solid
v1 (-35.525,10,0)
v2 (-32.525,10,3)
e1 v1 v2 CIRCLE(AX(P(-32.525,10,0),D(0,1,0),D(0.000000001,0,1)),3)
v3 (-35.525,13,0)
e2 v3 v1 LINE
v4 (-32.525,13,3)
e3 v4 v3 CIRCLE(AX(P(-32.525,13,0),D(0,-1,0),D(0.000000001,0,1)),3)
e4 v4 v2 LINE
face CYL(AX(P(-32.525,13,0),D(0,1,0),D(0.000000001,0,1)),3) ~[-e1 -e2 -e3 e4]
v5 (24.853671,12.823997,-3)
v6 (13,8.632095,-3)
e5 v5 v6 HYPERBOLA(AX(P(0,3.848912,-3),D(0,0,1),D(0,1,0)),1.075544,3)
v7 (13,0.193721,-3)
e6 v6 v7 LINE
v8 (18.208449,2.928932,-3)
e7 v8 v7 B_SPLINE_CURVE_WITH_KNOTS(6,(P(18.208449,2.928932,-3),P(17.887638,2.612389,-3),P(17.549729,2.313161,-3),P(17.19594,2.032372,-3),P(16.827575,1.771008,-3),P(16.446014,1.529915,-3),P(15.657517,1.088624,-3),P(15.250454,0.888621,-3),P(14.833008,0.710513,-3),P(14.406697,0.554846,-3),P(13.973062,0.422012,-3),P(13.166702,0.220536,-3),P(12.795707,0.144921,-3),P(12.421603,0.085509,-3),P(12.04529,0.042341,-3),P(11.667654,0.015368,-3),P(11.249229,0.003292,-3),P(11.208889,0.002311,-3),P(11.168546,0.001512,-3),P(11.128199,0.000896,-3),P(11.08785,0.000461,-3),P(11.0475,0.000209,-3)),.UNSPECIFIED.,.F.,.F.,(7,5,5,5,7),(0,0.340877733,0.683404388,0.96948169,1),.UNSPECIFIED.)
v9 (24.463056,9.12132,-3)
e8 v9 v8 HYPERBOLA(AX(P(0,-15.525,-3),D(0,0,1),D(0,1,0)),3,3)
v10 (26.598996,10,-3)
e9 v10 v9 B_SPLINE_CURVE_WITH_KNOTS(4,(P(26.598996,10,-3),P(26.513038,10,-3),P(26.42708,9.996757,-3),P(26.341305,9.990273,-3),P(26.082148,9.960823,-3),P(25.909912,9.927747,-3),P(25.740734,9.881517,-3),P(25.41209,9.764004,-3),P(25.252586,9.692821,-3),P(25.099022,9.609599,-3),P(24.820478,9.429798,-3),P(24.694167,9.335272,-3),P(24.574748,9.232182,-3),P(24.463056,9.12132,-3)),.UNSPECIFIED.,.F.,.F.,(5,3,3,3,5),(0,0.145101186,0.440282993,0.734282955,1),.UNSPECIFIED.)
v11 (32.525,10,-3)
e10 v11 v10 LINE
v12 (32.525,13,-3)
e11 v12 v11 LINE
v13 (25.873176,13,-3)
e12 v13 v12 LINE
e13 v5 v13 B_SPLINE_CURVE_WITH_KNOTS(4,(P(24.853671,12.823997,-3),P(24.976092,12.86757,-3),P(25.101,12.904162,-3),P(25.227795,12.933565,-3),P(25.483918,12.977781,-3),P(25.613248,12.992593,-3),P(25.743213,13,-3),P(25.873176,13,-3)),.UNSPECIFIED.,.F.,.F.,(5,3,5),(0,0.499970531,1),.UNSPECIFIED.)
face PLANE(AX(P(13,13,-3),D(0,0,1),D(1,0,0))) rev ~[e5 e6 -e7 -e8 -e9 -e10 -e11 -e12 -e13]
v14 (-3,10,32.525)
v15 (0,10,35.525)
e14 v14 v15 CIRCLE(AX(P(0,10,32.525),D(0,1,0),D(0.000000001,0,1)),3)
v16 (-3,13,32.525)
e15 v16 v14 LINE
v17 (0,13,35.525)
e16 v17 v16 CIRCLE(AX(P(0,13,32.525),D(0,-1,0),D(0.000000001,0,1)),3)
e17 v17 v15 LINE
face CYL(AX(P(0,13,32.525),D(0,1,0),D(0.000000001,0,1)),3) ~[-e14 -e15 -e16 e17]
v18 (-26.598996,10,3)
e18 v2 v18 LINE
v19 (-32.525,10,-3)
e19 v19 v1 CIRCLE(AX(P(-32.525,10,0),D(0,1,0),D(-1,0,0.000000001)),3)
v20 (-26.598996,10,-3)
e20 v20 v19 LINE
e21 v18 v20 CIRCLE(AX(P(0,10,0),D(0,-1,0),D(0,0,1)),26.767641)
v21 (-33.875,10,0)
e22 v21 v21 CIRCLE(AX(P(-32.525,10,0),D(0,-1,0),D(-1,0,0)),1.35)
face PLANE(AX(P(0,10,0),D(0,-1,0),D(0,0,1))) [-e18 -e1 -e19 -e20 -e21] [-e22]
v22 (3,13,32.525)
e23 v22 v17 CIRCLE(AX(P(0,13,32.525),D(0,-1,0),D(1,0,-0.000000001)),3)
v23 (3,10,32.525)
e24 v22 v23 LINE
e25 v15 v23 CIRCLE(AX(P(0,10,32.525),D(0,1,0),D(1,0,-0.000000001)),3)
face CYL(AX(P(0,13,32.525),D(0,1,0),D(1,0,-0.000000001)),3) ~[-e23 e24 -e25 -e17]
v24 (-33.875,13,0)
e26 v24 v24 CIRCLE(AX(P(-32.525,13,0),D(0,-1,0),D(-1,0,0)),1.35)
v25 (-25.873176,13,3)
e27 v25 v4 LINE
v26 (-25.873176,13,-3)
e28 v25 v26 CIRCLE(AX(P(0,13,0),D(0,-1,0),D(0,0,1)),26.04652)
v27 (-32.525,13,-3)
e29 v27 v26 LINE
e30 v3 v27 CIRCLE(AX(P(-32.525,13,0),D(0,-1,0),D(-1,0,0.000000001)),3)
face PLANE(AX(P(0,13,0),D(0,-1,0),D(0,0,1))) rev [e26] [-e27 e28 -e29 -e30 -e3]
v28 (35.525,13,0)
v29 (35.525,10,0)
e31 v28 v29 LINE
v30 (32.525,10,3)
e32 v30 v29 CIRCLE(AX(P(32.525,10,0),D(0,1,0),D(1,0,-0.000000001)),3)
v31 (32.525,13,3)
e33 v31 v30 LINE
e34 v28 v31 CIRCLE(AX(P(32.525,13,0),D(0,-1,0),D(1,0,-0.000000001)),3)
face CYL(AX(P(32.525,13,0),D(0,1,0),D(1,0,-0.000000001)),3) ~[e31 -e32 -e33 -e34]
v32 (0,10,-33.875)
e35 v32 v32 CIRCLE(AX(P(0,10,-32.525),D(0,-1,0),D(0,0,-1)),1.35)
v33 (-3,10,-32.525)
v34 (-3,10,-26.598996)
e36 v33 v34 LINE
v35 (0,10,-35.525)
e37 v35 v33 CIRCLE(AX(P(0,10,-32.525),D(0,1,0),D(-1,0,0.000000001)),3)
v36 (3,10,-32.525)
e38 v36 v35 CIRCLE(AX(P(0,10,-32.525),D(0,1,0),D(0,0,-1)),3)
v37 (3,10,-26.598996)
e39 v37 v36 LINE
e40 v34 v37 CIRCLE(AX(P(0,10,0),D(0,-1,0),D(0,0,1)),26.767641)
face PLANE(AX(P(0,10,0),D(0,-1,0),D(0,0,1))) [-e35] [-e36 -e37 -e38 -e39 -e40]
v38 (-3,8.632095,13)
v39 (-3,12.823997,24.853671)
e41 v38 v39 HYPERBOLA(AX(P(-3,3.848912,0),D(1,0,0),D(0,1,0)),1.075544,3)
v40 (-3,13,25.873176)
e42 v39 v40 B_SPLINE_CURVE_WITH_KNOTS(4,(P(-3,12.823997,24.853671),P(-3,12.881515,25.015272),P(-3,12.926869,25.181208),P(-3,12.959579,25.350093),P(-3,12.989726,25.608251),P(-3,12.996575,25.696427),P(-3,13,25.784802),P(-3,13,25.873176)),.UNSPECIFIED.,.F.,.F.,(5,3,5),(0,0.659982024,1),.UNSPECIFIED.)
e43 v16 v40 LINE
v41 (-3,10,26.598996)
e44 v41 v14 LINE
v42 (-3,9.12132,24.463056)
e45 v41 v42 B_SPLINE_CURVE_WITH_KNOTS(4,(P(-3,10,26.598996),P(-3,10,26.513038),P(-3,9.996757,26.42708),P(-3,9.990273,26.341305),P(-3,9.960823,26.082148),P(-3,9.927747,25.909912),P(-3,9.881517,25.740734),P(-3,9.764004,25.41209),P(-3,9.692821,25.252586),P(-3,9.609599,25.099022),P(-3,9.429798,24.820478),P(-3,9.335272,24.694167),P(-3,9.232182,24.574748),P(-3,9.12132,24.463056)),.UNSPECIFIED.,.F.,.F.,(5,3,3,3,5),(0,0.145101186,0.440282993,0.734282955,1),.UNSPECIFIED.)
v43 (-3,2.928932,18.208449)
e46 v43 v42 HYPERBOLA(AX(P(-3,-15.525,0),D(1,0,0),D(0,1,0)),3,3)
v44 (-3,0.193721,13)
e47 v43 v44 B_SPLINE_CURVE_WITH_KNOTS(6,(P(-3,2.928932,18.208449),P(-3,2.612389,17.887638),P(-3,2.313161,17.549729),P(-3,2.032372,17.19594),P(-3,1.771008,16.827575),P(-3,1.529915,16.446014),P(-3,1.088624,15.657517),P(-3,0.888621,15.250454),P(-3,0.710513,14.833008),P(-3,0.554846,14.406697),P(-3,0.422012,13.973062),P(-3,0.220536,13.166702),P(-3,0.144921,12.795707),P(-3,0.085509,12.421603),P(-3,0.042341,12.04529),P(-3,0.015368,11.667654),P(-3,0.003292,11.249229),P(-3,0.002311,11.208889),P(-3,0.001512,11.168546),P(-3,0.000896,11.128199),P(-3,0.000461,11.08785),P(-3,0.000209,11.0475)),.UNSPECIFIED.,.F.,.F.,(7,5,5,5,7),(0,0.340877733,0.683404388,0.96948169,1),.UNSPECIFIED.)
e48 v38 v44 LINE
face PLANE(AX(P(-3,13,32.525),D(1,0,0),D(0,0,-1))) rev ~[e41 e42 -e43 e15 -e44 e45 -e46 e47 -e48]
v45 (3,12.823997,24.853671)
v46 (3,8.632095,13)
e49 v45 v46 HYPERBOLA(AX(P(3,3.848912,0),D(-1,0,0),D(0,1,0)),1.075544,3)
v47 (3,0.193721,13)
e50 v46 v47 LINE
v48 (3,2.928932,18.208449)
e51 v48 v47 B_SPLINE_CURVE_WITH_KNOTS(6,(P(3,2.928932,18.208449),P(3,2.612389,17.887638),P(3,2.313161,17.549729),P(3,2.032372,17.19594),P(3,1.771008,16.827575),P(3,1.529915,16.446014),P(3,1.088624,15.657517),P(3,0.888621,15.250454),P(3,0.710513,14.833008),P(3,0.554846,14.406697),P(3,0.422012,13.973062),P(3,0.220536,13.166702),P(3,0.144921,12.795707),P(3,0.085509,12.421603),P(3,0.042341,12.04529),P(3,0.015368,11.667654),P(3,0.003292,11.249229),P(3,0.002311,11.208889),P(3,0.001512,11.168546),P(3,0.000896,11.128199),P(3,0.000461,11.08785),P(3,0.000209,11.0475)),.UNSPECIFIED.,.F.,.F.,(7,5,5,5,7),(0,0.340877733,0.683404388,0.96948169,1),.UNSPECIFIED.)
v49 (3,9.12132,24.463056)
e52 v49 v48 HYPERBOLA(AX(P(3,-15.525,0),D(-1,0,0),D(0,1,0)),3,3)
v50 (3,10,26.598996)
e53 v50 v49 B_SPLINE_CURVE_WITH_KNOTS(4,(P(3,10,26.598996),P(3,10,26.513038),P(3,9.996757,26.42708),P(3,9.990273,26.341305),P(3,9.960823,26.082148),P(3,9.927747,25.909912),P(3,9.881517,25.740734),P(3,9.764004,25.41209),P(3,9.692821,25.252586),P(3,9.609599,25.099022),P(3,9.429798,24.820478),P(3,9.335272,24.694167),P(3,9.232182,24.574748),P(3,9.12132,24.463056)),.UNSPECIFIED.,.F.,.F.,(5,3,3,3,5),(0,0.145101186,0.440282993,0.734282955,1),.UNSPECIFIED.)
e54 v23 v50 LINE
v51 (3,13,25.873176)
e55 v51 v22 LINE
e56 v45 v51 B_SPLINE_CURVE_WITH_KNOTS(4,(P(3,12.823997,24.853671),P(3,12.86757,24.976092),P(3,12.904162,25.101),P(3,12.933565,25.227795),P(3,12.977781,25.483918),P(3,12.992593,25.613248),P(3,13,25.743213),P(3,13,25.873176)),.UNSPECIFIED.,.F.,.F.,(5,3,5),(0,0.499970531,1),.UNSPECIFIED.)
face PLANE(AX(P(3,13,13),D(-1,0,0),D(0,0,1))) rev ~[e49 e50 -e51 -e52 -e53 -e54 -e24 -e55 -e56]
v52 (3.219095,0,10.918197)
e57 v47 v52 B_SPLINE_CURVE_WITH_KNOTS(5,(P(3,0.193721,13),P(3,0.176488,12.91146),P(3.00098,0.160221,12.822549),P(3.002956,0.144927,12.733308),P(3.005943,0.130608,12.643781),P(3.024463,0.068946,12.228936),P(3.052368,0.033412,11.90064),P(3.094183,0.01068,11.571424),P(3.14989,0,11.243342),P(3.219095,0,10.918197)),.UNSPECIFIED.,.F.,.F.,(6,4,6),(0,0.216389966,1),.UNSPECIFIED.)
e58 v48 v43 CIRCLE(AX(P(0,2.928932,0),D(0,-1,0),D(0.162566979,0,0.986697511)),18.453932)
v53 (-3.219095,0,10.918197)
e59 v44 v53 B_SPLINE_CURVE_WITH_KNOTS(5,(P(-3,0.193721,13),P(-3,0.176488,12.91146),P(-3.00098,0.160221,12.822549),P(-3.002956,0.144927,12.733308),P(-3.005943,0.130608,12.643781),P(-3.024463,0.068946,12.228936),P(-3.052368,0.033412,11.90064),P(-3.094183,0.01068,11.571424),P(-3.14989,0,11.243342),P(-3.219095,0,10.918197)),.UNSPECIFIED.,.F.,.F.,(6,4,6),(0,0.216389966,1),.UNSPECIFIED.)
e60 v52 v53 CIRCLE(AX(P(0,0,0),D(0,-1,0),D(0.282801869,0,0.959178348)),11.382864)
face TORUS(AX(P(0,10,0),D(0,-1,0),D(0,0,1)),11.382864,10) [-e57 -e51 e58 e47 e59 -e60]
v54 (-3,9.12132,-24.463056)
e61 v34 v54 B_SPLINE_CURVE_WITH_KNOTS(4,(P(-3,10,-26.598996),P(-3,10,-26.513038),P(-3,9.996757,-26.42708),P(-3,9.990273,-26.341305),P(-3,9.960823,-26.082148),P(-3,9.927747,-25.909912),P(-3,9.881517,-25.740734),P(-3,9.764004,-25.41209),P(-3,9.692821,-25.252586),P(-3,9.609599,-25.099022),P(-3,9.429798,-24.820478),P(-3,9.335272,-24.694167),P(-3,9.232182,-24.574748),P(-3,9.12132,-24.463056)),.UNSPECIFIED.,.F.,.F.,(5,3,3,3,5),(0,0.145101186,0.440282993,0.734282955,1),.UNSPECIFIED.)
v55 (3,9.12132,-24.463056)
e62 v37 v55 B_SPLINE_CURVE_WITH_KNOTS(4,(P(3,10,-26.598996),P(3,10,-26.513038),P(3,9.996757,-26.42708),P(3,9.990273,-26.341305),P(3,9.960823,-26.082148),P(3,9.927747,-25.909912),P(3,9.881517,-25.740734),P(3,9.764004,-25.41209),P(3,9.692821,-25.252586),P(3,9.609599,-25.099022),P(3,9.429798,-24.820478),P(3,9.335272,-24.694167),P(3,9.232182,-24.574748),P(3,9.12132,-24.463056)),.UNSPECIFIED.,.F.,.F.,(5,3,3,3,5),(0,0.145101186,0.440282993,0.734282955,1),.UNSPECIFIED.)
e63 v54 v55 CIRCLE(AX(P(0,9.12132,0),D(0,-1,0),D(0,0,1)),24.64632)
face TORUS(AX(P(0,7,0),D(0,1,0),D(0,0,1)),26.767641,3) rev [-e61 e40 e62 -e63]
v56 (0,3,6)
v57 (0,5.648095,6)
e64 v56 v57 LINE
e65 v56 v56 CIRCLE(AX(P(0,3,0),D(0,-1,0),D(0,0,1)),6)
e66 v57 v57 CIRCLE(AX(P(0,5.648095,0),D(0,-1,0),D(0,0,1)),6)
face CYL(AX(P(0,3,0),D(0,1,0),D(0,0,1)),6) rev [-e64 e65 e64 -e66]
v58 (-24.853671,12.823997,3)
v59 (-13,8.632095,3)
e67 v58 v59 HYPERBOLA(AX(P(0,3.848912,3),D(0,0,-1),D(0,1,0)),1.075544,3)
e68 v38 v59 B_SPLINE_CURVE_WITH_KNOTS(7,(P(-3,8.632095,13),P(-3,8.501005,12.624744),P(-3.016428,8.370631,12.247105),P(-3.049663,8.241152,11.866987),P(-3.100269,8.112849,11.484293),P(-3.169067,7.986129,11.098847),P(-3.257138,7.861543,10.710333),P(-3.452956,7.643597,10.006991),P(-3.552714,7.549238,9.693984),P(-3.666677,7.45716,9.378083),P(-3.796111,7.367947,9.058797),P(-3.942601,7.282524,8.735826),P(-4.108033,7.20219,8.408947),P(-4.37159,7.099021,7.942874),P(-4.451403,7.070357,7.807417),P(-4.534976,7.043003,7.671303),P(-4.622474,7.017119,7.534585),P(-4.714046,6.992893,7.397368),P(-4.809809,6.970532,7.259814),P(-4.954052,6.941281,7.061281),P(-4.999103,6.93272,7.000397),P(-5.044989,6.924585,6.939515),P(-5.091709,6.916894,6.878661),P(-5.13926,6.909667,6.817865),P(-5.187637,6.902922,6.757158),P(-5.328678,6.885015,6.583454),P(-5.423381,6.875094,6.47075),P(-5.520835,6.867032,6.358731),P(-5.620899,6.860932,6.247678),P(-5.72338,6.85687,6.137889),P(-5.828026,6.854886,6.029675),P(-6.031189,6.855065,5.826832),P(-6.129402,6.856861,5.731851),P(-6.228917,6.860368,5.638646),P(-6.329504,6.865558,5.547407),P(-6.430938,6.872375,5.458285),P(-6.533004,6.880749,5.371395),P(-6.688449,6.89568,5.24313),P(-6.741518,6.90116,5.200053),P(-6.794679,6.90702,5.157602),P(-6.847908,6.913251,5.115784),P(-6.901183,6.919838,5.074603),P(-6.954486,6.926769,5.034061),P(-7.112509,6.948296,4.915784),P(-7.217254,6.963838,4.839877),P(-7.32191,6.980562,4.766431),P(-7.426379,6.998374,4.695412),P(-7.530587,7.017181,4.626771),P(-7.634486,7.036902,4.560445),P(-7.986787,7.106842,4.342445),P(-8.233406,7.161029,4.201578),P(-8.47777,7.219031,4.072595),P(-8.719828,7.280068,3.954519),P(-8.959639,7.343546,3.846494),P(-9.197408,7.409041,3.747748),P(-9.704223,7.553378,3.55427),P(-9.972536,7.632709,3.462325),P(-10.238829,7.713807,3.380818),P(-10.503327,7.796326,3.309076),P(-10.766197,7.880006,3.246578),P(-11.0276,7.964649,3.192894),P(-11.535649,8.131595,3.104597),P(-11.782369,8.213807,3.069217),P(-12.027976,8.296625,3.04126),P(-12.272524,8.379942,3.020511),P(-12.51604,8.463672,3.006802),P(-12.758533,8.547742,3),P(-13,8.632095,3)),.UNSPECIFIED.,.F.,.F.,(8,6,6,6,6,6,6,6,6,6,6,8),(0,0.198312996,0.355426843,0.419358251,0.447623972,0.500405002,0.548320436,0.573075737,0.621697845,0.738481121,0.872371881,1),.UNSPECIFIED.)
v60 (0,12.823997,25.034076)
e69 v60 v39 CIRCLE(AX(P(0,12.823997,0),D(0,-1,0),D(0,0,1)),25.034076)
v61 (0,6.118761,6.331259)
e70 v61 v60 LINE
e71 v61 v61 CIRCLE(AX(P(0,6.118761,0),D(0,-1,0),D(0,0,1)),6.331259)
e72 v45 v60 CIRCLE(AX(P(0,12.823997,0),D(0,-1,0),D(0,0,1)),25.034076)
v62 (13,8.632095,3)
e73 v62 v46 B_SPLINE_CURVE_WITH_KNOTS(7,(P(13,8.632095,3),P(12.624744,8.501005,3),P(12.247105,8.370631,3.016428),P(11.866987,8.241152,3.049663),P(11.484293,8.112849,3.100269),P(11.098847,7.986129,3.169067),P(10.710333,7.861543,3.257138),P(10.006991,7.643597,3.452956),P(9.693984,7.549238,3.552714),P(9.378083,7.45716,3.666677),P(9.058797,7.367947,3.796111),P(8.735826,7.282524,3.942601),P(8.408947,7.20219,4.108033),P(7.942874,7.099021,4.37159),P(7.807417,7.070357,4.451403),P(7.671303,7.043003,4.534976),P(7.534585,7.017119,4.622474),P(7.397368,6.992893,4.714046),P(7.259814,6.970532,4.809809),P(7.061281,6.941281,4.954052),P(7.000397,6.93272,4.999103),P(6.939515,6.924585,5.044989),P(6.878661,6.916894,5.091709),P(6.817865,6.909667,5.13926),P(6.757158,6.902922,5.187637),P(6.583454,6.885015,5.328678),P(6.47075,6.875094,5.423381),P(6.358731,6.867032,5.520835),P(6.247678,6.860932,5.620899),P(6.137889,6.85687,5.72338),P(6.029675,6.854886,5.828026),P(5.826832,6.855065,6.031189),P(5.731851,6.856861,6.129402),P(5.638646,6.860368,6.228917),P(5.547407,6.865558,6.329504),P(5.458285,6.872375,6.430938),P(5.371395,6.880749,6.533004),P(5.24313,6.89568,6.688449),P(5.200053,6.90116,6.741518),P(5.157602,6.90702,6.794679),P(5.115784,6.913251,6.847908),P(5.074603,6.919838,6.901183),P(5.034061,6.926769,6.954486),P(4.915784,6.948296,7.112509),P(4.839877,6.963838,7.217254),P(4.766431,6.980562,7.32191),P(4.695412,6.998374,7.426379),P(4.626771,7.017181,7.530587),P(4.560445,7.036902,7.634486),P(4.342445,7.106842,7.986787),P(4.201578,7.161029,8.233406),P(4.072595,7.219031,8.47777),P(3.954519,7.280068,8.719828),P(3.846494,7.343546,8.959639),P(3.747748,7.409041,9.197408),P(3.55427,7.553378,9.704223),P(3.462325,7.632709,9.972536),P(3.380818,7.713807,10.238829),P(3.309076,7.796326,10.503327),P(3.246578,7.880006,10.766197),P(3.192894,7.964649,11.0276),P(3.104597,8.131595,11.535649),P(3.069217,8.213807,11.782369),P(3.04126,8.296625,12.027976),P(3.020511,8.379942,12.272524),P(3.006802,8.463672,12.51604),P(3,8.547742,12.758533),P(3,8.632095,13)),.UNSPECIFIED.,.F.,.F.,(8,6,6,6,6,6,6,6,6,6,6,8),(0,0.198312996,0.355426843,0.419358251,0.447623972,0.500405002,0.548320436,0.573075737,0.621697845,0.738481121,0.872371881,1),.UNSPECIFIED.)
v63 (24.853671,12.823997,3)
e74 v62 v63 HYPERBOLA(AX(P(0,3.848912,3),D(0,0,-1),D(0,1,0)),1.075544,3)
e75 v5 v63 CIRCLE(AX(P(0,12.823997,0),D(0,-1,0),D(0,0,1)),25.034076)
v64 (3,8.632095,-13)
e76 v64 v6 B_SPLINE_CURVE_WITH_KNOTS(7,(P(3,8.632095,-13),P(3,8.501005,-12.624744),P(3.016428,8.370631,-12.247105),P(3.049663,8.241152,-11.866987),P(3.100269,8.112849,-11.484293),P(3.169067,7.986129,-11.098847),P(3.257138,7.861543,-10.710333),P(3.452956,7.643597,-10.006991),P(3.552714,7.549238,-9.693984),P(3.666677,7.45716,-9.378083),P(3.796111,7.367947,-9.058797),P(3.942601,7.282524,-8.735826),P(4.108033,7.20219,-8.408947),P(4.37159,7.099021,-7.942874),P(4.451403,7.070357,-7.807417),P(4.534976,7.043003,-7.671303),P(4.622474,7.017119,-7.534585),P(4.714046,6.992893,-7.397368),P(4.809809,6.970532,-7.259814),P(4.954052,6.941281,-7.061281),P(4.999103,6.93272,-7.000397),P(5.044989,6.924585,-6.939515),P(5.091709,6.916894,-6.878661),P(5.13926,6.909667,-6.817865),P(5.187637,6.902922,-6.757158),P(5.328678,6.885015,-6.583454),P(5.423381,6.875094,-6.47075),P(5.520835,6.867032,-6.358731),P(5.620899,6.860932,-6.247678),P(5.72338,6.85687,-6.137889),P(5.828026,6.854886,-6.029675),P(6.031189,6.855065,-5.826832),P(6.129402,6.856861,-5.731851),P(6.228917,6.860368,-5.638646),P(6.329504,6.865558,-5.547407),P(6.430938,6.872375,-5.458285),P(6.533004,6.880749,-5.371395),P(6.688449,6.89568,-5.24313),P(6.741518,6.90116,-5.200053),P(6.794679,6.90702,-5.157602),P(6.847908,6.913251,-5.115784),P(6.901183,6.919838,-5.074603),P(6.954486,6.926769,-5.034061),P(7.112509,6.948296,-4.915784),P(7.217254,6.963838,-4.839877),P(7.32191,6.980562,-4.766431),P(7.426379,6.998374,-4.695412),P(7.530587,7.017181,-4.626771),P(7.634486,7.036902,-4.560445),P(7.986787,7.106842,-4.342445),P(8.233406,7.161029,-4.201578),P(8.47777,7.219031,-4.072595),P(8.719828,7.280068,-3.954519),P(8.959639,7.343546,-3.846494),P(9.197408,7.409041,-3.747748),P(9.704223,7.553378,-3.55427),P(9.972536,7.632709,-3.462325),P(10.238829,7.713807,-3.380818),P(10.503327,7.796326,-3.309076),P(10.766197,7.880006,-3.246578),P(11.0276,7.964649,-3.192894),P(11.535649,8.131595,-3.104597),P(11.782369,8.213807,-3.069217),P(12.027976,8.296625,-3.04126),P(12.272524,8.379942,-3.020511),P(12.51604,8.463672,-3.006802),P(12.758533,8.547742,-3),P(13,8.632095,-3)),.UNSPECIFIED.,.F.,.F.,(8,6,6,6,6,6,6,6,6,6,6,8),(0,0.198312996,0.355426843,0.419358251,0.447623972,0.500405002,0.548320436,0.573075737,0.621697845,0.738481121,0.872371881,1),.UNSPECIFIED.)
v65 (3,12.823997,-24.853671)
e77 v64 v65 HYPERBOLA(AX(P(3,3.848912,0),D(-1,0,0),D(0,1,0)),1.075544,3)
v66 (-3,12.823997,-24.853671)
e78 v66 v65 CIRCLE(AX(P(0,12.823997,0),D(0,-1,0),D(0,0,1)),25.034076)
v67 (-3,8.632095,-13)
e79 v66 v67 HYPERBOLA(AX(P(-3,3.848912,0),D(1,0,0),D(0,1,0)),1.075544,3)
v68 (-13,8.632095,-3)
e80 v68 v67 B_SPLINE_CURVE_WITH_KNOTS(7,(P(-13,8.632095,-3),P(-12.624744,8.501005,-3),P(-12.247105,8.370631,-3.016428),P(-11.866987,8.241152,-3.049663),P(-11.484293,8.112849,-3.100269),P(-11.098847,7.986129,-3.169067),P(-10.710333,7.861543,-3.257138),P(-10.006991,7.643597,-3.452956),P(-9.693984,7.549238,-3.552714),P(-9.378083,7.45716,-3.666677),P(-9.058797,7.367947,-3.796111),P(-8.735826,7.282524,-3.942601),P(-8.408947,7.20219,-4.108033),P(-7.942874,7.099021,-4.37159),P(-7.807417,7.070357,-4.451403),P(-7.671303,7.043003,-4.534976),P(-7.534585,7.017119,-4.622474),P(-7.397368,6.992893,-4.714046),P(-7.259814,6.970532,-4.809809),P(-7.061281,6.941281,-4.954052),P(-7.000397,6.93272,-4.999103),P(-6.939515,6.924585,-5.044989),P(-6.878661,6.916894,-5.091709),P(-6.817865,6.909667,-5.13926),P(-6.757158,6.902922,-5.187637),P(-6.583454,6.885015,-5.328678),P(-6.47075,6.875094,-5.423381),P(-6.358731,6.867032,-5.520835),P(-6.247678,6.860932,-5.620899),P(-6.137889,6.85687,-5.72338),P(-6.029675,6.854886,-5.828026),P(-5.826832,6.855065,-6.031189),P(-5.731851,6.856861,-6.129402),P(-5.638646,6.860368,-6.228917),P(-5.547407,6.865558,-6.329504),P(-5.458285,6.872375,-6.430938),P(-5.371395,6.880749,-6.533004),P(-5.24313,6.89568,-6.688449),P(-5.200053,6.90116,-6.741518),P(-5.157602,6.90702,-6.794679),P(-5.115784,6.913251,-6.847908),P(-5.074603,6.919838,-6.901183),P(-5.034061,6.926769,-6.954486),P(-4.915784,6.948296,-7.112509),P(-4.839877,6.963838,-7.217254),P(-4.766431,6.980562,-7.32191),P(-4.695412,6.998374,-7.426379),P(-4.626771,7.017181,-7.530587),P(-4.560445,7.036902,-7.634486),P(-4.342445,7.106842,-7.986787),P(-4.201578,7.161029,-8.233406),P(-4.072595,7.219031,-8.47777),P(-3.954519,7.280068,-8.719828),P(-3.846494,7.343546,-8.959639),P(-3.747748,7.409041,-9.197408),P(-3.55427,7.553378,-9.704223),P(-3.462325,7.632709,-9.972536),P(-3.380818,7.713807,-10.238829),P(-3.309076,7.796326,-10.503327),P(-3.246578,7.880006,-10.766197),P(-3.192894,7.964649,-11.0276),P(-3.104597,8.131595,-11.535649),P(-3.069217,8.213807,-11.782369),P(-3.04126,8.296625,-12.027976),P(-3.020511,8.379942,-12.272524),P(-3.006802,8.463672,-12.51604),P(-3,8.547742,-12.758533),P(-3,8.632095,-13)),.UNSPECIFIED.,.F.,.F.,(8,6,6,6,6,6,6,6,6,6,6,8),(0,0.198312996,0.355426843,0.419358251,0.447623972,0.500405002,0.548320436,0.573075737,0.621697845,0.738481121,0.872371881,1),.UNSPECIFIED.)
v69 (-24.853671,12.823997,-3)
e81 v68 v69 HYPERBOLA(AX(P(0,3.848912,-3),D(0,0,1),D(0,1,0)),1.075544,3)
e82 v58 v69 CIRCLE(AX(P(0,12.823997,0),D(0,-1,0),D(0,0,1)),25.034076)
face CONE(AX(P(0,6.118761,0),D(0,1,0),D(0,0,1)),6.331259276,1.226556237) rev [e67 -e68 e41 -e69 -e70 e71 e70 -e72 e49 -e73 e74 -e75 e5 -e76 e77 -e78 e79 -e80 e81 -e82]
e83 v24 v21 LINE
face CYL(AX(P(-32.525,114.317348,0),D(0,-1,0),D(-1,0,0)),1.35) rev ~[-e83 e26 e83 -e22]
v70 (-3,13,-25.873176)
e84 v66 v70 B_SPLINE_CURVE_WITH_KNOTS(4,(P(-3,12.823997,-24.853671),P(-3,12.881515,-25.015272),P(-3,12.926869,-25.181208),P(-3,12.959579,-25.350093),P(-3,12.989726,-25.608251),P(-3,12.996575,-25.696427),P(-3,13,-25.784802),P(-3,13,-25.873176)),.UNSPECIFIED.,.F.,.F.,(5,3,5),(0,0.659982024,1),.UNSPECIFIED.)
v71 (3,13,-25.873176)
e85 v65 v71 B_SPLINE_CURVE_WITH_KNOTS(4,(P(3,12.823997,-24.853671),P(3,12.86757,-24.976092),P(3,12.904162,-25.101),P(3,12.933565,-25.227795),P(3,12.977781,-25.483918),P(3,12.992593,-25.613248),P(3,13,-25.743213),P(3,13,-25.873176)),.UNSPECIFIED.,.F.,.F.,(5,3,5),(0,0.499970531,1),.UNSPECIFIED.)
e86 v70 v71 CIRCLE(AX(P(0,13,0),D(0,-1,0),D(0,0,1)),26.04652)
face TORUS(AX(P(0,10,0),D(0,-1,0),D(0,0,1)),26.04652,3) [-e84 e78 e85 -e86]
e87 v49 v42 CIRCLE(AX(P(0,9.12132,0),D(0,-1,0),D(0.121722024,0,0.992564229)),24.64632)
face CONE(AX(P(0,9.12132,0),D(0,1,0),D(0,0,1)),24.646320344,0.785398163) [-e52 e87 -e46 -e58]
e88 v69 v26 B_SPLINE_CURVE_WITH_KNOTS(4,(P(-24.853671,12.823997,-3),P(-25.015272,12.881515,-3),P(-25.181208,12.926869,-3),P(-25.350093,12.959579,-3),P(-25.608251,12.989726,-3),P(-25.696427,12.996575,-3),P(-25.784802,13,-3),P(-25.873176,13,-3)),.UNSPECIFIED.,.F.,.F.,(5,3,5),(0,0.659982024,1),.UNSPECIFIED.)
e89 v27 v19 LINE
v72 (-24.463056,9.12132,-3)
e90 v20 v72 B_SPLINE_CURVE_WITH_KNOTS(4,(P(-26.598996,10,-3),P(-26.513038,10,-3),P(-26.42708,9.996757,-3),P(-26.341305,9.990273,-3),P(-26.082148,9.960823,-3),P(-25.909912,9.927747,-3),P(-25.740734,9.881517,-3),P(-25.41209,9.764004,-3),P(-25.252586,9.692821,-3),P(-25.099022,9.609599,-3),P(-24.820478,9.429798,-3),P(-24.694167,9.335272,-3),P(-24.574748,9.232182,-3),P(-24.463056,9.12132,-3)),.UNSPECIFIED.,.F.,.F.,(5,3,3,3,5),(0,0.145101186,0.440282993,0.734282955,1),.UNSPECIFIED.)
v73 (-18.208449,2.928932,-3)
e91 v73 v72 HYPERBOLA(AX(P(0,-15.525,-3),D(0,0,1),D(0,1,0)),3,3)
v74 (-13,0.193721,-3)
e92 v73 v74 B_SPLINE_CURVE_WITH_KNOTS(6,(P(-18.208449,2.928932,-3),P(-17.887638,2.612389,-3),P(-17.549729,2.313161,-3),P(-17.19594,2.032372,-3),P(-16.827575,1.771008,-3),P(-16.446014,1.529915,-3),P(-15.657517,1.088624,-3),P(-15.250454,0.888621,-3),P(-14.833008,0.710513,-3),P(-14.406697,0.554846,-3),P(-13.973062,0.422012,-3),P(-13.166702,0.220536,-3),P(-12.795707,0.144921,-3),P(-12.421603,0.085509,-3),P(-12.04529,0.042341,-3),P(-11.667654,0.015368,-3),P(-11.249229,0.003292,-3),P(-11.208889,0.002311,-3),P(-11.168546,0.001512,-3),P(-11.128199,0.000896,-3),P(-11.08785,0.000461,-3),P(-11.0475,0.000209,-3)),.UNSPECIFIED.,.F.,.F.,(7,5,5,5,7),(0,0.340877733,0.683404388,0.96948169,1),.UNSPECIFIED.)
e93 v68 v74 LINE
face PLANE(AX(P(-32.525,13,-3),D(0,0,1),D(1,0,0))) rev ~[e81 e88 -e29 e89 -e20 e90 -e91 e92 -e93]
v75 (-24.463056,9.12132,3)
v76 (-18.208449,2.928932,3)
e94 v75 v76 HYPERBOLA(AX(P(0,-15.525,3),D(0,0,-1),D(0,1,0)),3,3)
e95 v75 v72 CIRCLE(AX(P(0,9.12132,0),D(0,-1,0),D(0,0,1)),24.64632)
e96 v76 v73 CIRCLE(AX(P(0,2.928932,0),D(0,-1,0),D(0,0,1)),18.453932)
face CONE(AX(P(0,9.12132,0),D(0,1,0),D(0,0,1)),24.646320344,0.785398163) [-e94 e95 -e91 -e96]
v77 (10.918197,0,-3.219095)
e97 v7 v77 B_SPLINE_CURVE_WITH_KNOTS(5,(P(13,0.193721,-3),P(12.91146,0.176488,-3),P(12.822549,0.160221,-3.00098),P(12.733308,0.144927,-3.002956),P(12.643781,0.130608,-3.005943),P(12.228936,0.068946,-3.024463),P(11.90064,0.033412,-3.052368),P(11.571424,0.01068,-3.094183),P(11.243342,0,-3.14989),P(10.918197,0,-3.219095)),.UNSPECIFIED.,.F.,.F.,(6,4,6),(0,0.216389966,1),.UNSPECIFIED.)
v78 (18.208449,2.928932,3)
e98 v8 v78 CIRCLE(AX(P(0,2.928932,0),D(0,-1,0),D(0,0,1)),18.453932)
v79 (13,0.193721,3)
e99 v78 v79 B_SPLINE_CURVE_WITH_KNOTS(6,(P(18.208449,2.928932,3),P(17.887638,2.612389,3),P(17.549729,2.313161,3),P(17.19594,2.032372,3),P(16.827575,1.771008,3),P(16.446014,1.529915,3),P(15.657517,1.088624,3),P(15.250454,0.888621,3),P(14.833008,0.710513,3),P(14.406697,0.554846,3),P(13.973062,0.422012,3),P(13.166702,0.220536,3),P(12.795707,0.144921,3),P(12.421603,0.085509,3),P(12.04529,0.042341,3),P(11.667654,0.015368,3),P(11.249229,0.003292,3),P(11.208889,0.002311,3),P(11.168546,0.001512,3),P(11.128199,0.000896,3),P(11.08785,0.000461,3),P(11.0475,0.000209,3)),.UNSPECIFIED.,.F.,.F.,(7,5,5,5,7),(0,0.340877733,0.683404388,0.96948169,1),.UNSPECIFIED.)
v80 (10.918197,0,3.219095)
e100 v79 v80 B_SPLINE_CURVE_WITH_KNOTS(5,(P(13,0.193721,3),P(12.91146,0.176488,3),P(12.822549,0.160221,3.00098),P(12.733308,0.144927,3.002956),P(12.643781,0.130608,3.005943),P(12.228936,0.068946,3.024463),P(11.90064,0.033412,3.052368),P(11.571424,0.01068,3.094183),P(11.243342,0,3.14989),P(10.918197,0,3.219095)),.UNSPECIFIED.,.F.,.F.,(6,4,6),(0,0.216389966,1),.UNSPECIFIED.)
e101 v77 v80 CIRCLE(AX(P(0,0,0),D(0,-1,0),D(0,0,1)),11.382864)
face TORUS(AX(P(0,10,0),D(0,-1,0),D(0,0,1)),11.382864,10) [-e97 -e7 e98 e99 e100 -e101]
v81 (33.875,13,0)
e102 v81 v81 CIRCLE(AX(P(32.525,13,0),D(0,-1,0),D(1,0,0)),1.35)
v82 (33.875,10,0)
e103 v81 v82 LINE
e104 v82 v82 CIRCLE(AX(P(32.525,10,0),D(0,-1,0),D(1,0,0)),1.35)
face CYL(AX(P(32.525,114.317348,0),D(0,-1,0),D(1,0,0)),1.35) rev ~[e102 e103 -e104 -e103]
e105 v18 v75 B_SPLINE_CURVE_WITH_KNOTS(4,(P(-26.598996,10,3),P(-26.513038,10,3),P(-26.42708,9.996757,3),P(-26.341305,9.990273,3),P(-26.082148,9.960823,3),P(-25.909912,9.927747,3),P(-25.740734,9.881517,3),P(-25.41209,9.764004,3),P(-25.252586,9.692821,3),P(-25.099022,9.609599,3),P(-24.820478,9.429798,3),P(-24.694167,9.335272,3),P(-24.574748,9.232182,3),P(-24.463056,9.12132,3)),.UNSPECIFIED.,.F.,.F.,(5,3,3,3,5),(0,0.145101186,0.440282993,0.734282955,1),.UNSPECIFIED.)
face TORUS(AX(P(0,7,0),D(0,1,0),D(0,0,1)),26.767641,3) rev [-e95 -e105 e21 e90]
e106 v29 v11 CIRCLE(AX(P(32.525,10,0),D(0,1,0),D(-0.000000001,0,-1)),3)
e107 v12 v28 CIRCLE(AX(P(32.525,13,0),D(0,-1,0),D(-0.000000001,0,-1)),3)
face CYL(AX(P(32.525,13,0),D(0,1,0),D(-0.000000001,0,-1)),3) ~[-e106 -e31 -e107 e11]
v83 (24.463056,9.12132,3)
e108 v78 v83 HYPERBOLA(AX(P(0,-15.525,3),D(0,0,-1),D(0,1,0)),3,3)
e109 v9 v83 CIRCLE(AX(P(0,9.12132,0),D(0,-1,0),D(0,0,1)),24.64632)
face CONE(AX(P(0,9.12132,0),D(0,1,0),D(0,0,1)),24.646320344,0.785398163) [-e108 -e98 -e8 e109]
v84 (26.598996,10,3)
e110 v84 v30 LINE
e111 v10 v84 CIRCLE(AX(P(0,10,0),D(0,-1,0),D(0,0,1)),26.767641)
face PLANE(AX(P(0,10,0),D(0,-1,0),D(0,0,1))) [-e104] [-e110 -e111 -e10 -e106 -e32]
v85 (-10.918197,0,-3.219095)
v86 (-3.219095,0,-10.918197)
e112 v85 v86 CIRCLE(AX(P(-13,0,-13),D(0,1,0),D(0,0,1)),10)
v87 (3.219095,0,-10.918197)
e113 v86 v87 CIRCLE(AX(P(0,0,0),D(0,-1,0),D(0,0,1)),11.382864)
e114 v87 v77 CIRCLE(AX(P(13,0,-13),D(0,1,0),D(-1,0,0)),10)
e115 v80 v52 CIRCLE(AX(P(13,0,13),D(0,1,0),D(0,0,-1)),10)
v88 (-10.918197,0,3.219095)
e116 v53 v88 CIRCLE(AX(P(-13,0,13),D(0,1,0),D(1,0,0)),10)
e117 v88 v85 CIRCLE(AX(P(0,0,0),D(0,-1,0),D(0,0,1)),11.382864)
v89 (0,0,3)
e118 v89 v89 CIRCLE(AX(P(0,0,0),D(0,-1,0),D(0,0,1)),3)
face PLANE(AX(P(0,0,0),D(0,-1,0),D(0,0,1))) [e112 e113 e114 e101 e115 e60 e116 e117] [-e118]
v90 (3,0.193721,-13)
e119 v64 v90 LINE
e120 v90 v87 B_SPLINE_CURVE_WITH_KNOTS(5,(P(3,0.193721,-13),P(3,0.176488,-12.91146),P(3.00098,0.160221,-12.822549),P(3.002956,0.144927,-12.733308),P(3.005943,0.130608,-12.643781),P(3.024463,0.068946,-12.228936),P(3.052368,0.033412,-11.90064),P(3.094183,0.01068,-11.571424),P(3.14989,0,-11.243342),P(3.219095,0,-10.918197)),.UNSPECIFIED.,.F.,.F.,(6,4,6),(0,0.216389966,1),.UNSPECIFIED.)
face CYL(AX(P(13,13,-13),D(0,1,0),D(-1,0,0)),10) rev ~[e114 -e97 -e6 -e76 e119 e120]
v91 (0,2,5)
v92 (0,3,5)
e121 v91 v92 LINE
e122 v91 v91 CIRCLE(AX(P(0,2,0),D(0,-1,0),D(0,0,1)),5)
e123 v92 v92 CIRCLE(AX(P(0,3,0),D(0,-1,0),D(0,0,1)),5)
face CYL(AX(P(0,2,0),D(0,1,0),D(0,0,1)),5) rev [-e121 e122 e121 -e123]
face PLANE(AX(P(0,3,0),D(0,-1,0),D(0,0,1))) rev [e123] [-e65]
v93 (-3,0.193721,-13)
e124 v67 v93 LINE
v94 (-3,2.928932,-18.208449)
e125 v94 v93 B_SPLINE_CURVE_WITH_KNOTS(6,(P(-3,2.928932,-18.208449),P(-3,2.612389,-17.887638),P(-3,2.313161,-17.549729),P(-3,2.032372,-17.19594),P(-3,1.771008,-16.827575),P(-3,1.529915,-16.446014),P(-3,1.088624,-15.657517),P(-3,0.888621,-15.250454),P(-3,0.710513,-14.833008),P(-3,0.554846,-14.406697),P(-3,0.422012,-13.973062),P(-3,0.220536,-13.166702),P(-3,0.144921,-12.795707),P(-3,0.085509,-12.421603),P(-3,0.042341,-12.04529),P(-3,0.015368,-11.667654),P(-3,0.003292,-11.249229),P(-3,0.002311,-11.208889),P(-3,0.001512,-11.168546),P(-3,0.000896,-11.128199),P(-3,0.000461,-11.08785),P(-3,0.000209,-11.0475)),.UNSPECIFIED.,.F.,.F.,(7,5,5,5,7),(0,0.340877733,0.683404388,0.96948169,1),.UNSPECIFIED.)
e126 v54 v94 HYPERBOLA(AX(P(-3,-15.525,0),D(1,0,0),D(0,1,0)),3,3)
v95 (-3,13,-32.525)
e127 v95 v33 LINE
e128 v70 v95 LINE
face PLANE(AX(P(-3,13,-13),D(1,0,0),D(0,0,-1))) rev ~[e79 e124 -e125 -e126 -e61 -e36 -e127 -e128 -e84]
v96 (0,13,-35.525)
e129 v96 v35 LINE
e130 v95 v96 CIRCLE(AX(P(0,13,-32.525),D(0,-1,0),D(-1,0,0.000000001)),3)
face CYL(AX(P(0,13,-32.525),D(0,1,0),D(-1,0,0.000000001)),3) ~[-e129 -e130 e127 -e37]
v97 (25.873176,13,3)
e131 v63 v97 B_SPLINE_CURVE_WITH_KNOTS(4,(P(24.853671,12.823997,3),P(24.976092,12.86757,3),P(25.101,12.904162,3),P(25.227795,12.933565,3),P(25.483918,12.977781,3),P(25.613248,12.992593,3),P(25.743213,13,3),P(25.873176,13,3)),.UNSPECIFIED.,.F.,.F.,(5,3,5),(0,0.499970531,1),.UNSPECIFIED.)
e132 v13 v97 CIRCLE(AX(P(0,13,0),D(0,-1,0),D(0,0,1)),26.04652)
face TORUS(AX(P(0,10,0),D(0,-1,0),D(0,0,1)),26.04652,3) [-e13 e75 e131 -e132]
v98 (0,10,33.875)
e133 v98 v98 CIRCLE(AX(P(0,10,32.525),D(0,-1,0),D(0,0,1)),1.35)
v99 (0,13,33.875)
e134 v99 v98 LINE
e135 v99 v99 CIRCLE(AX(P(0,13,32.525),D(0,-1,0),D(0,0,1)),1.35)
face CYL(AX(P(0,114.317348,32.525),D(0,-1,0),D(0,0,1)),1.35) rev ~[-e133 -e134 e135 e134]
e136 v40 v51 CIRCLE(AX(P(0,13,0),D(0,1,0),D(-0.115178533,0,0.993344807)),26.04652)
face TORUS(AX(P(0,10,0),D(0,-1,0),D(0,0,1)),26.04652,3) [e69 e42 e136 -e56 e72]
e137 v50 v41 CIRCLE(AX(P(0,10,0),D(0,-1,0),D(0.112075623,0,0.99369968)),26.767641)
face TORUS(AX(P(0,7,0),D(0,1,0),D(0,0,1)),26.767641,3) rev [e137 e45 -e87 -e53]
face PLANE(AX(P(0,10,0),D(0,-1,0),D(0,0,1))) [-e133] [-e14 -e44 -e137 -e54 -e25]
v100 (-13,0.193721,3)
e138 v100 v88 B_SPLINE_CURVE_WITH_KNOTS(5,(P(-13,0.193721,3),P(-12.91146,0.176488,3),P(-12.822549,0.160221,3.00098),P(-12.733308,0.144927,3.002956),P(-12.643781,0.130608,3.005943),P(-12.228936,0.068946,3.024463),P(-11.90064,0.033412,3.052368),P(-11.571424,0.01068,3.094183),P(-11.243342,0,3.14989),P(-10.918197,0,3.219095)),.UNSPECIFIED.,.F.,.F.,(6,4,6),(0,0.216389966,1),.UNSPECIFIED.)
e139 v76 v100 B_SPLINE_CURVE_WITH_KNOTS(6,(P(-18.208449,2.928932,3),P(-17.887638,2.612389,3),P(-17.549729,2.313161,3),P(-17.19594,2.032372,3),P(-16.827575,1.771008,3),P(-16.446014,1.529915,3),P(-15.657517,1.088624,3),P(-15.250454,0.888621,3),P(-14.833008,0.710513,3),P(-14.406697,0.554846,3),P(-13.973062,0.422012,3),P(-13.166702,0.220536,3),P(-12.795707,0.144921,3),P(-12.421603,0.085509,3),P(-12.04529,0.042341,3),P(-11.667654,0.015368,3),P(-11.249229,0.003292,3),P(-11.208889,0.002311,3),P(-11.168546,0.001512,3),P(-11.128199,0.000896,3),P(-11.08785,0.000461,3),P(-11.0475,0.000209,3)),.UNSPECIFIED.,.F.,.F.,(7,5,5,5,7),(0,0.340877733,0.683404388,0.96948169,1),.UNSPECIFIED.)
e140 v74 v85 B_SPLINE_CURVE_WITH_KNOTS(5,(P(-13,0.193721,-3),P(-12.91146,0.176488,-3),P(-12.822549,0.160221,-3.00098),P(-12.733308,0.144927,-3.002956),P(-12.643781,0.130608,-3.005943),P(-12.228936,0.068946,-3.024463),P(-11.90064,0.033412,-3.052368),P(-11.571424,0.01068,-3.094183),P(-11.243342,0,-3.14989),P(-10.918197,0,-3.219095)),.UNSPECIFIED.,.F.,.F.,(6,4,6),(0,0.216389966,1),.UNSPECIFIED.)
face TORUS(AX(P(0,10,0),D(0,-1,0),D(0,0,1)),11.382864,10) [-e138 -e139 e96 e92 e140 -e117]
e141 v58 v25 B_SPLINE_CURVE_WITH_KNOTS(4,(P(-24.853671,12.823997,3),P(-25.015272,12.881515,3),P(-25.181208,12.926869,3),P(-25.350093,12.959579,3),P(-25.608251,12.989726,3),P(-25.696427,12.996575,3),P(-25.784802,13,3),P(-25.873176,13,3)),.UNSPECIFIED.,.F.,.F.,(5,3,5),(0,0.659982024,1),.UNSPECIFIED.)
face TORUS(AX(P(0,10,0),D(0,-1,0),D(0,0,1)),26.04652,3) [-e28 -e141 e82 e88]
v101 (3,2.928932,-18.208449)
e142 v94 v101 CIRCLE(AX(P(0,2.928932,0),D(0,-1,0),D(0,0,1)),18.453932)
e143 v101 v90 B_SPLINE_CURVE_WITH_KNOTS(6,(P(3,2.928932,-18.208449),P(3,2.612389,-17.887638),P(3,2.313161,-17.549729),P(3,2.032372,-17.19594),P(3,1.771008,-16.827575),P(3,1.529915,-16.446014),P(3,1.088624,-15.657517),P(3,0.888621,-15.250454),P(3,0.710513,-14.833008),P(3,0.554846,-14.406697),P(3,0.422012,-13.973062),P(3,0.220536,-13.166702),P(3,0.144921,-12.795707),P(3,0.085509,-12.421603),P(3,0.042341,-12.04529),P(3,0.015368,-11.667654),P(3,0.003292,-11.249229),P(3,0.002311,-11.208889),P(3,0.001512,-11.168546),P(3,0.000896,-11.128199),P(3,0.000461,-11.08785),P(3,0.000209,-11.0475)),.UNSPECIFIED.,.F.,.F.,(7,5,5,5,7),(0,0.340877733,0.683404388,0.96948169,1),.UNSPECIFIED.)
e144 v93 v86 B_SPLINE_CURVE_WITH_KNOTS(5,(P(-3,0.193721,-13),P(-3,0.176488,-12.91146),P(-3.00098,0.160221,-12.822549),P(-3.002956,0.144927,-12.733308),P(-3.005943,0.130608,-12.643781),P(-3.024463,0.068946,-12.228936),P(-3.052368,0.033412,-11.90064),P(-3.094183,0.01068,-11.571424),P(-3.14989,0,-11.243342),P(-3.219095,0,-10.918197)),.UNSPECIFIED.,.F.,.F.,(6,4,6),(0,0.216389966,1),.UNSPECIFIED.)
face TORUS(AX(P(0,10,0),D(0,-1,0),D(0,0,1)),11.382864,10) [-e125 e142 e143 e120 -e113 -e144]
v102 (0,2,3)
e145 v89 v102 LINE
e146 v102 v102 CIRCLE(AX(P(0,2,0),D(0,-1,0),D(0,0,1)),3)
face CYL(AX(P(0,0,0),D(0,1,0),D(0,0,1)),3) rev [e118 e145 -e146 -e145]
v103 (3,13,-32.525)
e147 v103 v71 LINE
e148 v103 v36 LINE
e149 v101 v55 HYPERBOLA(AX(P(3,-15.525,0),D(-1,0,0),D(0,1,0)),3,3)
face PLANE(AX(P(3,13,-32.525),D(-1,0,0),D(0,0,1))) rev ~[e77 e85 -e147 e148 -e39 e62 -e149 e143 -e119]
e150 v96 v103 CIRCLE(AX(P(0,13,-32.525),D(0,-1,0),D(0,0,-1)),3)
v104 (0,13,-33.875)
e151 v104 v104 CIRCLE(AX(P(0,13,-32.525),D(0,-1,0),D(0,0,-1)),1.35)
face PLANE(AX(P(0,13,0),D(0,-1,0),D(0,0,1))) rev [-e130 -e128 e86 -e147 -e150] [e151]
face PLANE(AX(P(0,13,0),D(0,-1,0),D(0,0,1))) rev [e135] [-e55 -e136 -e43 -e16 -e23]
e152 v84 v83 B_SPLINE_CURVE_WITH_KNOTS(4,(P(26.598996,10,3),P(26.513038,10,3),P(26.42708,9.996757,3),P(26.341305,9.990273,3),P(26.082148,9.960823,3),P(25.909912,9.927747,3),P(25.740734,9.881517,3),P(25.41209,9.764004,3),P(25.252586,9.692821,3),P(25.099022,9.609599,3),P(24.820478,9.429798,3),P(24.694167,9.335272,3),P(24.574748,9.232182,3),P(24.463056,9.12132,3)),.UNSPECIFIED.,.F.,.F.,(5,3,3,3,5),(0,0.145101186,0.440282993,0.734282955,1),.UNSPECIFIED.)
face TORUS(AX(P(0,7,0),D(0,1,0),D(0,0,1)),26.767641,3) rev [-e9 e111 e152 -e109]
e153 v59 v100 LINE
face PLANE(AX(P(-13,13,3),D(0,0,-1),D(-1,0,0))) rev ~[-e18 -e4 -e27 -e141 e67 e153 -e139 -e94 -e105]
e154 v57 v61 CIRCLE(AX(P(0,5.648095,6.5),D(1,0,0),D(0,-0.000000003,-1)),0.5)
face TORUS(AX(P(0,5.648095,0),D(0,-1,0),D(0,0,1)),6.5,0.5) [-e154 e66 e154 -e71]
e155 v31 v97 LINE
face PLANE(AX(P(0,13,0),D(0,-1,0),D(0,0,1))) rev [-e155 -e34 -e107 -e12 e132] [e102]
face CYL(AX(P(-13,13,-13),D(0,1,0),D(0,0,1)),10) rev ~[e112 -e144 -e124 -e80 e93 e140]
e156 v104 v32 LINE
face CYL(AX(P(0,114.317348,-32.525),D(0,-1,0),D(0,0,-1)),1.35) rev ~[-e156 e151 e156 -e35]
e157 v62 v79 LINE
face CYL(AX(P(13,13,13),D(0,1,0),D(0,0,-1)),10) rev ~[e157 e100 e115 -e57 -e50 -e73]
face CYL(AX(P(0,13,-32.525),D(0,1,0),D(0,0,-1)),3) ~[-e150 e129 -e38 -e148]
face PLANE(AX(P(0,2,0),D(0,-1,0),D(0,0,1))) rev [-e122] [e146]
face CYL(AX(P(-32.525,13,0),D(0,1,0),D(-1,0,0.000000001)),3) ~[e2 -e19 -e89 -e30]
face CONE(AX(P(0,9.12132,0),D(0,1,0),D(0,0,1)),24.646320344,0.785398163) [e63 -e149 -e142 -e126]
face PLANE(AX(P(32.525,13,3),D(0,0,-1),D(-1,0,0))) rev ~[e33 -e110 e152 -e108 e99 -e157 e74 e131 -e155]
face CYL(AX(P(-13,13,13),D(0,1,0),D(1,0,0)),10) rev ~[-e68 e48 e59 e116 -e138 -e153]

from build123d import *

# Parameters (mm, degrees)
D_GAGEMENT_M2_51_D           = 2.7
R_P_TITION_CIRCULAIRE1_COUNT = 4
ENL_V_MAT_EXTRU_1_DEPTH      = 52.894616773


with BuildPart() as part:
    # Esquisse1 → Révolution1 (revolve)
    with BuildSketch(Plane.XY, mode=Mode.PRIVATE) as r_volution1_sk:
        with BuildLine():
            Line((-11.382864376, 0), (-3, 0))
            Line((-3, 0), (-3, 2))
            Line((-3, 2), (-5, 2))
            Line((-5, 2), (-5, 3))
            Line((-5, 3), (-6, 3))
            Line((-6, 3), (-6, 5.648095238))
            ThreePointArc((-6, 5.648095238), (-6.091117155, 5.935870879), (-6.331259276, 6.118761328))
            Line((-6.331259276, 6.118761328), (-25.034076062, 12.823996539))
            ThreePointArc((-25.034076062, 12.823996539), (-25.532706049, 12.955671634), (-26.046520404, 13))
            Line((-26.046520404, 13), (-35.525, 13))
            Line((-35.525, 13), (-35.525, 10))
            Line((-35.525, 10), (-26.767640687, 10))
            ThreePointArc((-26.767640687, 10), (-25.61959039, 9.771638598), (-24.646320344, 9.121320344))
            Line((-24.646320344, 9.121320344), (-18.453932188, 2.928932188))
            ThreePointArc((-18.453932188, 2.928932188), (-15.2096987, 0.761204675), (-11.382864376, 0))
        make_face()
    revolve(r_volution1_sk.sketch.rotate(Axis((0, 5.07757265, 0), (0, -1, 0)), 270), axis=Axis((0, 5.07757265, 0), (0, -1, 0)))

    # Dégagement M2.51 (through all)
    with Locations(Plane(origin=(0, 13, 0), x_dir=(1, 0, 0), z_dir=(0, 1, 0))):
        with Locations((-32.525, 0)):
            d_gagement_m2_51 = Hole(D_GAGEMENT_M2_51_D / 2)

    # Répétition circulaire1: Dégagement M2.51 ×4 about axis
    r_p_tition_circulaire1_axis = Axis((0, 0, 0), (0, 1, 0))
    for i in range(1, R_P_TITION_CIRCULAIRE1_COUNT):
        add(d_gagement_m2_51.rotate(r_p_tition_circulaire1_axis, i * 360 / R_P_TITION_CIRCULAIRE1_COUNT), mode=Mode.SUBTRACT)

    # Esquisse4 → Enlèv. mat.-Extru.1 (cut, through all)
    with BuildSketch(Plane(origin=(0, 13, 0), x_dir=(1, 0, 0), z_dir=(0, 1, 0))):
        with BuildLine():
            ThreePointArc((3e-09, 35.525), (2.121320345, 34.646320343), (3, 32.525))
            Line((3, 32.525), (3, 13))
            ThreePointArc((3, 13), (5.928932188, 5.928932188), (13, 3))
            Line((13, 3), (32.525, 3))
            ThreePointArc((32.525, 3), (34.646320344, 2.121320344), (35.525, 0))
            ThreePointArc((35.525, 0), (25.119968403, 25.119968401), (3e-09, 35.525))
        make_face()
        with BuildLine():
            ThreePointArc((-3, 32.525), (-2.121320343, 34.646320345), (3e-09, 35.525))
            ThreePointArc((3e-09, 35.525), (-25.119968401, 25.119968403), (-35.525, 0))
            ThreePointArc((-35.525, 0), (-34.646320344, 2.121320344), (-32.525, 3))
            Line((-32.525, 3), (-13, 3))
            ThreePointArc((-13, 3), (-5.928932188, 5.928932188), (-3, 13))
            Line((-3, 13), (-3, 32.525))
        make_face()
        with BuildLine():
            ThreePointArc((0, -35.525), (25.119968402, -25.119968402), (35.525, 0))
            ThreePointArc((35.525, 0), (34.646320344, -2.121320344), (32.525, -3))
            Line((32.525, -3), (13, -3))
            ThreePointArc((13, -3), (5.928932188, -5.928932188), (3, -13))
            Line((3, -13), (3, -32.525))
            ThreePointArc((3, -32.525), (2.121320344, -34.646320344), (0, -35.525))
        make_face()
        with BuildLine():
            ThreePointArc((-32.525, -3), (-34.646320344, -2.121320344), (-35.525, 0))
            ThreePointArc((-35.525, 0), (-25.119968402, -25.119968402), (0, -35.525))
            ThreePointArc((0, -35.525), (-2.121320344, -34.646320344), (-3, -32.525))
            Line((-3, -32.525), (-3, -13))
            ThreePointArc((-3, -13), (-5.928932188, -5.928932188), (-13, -3))
            Line((-13, -3), (-32.525, -3))
        make_face()
    extrude(amount=-ENL_V_MAT_EXTRU_1_DEPTH, mode=Mode.SUBTRACT)


solid = part.part
